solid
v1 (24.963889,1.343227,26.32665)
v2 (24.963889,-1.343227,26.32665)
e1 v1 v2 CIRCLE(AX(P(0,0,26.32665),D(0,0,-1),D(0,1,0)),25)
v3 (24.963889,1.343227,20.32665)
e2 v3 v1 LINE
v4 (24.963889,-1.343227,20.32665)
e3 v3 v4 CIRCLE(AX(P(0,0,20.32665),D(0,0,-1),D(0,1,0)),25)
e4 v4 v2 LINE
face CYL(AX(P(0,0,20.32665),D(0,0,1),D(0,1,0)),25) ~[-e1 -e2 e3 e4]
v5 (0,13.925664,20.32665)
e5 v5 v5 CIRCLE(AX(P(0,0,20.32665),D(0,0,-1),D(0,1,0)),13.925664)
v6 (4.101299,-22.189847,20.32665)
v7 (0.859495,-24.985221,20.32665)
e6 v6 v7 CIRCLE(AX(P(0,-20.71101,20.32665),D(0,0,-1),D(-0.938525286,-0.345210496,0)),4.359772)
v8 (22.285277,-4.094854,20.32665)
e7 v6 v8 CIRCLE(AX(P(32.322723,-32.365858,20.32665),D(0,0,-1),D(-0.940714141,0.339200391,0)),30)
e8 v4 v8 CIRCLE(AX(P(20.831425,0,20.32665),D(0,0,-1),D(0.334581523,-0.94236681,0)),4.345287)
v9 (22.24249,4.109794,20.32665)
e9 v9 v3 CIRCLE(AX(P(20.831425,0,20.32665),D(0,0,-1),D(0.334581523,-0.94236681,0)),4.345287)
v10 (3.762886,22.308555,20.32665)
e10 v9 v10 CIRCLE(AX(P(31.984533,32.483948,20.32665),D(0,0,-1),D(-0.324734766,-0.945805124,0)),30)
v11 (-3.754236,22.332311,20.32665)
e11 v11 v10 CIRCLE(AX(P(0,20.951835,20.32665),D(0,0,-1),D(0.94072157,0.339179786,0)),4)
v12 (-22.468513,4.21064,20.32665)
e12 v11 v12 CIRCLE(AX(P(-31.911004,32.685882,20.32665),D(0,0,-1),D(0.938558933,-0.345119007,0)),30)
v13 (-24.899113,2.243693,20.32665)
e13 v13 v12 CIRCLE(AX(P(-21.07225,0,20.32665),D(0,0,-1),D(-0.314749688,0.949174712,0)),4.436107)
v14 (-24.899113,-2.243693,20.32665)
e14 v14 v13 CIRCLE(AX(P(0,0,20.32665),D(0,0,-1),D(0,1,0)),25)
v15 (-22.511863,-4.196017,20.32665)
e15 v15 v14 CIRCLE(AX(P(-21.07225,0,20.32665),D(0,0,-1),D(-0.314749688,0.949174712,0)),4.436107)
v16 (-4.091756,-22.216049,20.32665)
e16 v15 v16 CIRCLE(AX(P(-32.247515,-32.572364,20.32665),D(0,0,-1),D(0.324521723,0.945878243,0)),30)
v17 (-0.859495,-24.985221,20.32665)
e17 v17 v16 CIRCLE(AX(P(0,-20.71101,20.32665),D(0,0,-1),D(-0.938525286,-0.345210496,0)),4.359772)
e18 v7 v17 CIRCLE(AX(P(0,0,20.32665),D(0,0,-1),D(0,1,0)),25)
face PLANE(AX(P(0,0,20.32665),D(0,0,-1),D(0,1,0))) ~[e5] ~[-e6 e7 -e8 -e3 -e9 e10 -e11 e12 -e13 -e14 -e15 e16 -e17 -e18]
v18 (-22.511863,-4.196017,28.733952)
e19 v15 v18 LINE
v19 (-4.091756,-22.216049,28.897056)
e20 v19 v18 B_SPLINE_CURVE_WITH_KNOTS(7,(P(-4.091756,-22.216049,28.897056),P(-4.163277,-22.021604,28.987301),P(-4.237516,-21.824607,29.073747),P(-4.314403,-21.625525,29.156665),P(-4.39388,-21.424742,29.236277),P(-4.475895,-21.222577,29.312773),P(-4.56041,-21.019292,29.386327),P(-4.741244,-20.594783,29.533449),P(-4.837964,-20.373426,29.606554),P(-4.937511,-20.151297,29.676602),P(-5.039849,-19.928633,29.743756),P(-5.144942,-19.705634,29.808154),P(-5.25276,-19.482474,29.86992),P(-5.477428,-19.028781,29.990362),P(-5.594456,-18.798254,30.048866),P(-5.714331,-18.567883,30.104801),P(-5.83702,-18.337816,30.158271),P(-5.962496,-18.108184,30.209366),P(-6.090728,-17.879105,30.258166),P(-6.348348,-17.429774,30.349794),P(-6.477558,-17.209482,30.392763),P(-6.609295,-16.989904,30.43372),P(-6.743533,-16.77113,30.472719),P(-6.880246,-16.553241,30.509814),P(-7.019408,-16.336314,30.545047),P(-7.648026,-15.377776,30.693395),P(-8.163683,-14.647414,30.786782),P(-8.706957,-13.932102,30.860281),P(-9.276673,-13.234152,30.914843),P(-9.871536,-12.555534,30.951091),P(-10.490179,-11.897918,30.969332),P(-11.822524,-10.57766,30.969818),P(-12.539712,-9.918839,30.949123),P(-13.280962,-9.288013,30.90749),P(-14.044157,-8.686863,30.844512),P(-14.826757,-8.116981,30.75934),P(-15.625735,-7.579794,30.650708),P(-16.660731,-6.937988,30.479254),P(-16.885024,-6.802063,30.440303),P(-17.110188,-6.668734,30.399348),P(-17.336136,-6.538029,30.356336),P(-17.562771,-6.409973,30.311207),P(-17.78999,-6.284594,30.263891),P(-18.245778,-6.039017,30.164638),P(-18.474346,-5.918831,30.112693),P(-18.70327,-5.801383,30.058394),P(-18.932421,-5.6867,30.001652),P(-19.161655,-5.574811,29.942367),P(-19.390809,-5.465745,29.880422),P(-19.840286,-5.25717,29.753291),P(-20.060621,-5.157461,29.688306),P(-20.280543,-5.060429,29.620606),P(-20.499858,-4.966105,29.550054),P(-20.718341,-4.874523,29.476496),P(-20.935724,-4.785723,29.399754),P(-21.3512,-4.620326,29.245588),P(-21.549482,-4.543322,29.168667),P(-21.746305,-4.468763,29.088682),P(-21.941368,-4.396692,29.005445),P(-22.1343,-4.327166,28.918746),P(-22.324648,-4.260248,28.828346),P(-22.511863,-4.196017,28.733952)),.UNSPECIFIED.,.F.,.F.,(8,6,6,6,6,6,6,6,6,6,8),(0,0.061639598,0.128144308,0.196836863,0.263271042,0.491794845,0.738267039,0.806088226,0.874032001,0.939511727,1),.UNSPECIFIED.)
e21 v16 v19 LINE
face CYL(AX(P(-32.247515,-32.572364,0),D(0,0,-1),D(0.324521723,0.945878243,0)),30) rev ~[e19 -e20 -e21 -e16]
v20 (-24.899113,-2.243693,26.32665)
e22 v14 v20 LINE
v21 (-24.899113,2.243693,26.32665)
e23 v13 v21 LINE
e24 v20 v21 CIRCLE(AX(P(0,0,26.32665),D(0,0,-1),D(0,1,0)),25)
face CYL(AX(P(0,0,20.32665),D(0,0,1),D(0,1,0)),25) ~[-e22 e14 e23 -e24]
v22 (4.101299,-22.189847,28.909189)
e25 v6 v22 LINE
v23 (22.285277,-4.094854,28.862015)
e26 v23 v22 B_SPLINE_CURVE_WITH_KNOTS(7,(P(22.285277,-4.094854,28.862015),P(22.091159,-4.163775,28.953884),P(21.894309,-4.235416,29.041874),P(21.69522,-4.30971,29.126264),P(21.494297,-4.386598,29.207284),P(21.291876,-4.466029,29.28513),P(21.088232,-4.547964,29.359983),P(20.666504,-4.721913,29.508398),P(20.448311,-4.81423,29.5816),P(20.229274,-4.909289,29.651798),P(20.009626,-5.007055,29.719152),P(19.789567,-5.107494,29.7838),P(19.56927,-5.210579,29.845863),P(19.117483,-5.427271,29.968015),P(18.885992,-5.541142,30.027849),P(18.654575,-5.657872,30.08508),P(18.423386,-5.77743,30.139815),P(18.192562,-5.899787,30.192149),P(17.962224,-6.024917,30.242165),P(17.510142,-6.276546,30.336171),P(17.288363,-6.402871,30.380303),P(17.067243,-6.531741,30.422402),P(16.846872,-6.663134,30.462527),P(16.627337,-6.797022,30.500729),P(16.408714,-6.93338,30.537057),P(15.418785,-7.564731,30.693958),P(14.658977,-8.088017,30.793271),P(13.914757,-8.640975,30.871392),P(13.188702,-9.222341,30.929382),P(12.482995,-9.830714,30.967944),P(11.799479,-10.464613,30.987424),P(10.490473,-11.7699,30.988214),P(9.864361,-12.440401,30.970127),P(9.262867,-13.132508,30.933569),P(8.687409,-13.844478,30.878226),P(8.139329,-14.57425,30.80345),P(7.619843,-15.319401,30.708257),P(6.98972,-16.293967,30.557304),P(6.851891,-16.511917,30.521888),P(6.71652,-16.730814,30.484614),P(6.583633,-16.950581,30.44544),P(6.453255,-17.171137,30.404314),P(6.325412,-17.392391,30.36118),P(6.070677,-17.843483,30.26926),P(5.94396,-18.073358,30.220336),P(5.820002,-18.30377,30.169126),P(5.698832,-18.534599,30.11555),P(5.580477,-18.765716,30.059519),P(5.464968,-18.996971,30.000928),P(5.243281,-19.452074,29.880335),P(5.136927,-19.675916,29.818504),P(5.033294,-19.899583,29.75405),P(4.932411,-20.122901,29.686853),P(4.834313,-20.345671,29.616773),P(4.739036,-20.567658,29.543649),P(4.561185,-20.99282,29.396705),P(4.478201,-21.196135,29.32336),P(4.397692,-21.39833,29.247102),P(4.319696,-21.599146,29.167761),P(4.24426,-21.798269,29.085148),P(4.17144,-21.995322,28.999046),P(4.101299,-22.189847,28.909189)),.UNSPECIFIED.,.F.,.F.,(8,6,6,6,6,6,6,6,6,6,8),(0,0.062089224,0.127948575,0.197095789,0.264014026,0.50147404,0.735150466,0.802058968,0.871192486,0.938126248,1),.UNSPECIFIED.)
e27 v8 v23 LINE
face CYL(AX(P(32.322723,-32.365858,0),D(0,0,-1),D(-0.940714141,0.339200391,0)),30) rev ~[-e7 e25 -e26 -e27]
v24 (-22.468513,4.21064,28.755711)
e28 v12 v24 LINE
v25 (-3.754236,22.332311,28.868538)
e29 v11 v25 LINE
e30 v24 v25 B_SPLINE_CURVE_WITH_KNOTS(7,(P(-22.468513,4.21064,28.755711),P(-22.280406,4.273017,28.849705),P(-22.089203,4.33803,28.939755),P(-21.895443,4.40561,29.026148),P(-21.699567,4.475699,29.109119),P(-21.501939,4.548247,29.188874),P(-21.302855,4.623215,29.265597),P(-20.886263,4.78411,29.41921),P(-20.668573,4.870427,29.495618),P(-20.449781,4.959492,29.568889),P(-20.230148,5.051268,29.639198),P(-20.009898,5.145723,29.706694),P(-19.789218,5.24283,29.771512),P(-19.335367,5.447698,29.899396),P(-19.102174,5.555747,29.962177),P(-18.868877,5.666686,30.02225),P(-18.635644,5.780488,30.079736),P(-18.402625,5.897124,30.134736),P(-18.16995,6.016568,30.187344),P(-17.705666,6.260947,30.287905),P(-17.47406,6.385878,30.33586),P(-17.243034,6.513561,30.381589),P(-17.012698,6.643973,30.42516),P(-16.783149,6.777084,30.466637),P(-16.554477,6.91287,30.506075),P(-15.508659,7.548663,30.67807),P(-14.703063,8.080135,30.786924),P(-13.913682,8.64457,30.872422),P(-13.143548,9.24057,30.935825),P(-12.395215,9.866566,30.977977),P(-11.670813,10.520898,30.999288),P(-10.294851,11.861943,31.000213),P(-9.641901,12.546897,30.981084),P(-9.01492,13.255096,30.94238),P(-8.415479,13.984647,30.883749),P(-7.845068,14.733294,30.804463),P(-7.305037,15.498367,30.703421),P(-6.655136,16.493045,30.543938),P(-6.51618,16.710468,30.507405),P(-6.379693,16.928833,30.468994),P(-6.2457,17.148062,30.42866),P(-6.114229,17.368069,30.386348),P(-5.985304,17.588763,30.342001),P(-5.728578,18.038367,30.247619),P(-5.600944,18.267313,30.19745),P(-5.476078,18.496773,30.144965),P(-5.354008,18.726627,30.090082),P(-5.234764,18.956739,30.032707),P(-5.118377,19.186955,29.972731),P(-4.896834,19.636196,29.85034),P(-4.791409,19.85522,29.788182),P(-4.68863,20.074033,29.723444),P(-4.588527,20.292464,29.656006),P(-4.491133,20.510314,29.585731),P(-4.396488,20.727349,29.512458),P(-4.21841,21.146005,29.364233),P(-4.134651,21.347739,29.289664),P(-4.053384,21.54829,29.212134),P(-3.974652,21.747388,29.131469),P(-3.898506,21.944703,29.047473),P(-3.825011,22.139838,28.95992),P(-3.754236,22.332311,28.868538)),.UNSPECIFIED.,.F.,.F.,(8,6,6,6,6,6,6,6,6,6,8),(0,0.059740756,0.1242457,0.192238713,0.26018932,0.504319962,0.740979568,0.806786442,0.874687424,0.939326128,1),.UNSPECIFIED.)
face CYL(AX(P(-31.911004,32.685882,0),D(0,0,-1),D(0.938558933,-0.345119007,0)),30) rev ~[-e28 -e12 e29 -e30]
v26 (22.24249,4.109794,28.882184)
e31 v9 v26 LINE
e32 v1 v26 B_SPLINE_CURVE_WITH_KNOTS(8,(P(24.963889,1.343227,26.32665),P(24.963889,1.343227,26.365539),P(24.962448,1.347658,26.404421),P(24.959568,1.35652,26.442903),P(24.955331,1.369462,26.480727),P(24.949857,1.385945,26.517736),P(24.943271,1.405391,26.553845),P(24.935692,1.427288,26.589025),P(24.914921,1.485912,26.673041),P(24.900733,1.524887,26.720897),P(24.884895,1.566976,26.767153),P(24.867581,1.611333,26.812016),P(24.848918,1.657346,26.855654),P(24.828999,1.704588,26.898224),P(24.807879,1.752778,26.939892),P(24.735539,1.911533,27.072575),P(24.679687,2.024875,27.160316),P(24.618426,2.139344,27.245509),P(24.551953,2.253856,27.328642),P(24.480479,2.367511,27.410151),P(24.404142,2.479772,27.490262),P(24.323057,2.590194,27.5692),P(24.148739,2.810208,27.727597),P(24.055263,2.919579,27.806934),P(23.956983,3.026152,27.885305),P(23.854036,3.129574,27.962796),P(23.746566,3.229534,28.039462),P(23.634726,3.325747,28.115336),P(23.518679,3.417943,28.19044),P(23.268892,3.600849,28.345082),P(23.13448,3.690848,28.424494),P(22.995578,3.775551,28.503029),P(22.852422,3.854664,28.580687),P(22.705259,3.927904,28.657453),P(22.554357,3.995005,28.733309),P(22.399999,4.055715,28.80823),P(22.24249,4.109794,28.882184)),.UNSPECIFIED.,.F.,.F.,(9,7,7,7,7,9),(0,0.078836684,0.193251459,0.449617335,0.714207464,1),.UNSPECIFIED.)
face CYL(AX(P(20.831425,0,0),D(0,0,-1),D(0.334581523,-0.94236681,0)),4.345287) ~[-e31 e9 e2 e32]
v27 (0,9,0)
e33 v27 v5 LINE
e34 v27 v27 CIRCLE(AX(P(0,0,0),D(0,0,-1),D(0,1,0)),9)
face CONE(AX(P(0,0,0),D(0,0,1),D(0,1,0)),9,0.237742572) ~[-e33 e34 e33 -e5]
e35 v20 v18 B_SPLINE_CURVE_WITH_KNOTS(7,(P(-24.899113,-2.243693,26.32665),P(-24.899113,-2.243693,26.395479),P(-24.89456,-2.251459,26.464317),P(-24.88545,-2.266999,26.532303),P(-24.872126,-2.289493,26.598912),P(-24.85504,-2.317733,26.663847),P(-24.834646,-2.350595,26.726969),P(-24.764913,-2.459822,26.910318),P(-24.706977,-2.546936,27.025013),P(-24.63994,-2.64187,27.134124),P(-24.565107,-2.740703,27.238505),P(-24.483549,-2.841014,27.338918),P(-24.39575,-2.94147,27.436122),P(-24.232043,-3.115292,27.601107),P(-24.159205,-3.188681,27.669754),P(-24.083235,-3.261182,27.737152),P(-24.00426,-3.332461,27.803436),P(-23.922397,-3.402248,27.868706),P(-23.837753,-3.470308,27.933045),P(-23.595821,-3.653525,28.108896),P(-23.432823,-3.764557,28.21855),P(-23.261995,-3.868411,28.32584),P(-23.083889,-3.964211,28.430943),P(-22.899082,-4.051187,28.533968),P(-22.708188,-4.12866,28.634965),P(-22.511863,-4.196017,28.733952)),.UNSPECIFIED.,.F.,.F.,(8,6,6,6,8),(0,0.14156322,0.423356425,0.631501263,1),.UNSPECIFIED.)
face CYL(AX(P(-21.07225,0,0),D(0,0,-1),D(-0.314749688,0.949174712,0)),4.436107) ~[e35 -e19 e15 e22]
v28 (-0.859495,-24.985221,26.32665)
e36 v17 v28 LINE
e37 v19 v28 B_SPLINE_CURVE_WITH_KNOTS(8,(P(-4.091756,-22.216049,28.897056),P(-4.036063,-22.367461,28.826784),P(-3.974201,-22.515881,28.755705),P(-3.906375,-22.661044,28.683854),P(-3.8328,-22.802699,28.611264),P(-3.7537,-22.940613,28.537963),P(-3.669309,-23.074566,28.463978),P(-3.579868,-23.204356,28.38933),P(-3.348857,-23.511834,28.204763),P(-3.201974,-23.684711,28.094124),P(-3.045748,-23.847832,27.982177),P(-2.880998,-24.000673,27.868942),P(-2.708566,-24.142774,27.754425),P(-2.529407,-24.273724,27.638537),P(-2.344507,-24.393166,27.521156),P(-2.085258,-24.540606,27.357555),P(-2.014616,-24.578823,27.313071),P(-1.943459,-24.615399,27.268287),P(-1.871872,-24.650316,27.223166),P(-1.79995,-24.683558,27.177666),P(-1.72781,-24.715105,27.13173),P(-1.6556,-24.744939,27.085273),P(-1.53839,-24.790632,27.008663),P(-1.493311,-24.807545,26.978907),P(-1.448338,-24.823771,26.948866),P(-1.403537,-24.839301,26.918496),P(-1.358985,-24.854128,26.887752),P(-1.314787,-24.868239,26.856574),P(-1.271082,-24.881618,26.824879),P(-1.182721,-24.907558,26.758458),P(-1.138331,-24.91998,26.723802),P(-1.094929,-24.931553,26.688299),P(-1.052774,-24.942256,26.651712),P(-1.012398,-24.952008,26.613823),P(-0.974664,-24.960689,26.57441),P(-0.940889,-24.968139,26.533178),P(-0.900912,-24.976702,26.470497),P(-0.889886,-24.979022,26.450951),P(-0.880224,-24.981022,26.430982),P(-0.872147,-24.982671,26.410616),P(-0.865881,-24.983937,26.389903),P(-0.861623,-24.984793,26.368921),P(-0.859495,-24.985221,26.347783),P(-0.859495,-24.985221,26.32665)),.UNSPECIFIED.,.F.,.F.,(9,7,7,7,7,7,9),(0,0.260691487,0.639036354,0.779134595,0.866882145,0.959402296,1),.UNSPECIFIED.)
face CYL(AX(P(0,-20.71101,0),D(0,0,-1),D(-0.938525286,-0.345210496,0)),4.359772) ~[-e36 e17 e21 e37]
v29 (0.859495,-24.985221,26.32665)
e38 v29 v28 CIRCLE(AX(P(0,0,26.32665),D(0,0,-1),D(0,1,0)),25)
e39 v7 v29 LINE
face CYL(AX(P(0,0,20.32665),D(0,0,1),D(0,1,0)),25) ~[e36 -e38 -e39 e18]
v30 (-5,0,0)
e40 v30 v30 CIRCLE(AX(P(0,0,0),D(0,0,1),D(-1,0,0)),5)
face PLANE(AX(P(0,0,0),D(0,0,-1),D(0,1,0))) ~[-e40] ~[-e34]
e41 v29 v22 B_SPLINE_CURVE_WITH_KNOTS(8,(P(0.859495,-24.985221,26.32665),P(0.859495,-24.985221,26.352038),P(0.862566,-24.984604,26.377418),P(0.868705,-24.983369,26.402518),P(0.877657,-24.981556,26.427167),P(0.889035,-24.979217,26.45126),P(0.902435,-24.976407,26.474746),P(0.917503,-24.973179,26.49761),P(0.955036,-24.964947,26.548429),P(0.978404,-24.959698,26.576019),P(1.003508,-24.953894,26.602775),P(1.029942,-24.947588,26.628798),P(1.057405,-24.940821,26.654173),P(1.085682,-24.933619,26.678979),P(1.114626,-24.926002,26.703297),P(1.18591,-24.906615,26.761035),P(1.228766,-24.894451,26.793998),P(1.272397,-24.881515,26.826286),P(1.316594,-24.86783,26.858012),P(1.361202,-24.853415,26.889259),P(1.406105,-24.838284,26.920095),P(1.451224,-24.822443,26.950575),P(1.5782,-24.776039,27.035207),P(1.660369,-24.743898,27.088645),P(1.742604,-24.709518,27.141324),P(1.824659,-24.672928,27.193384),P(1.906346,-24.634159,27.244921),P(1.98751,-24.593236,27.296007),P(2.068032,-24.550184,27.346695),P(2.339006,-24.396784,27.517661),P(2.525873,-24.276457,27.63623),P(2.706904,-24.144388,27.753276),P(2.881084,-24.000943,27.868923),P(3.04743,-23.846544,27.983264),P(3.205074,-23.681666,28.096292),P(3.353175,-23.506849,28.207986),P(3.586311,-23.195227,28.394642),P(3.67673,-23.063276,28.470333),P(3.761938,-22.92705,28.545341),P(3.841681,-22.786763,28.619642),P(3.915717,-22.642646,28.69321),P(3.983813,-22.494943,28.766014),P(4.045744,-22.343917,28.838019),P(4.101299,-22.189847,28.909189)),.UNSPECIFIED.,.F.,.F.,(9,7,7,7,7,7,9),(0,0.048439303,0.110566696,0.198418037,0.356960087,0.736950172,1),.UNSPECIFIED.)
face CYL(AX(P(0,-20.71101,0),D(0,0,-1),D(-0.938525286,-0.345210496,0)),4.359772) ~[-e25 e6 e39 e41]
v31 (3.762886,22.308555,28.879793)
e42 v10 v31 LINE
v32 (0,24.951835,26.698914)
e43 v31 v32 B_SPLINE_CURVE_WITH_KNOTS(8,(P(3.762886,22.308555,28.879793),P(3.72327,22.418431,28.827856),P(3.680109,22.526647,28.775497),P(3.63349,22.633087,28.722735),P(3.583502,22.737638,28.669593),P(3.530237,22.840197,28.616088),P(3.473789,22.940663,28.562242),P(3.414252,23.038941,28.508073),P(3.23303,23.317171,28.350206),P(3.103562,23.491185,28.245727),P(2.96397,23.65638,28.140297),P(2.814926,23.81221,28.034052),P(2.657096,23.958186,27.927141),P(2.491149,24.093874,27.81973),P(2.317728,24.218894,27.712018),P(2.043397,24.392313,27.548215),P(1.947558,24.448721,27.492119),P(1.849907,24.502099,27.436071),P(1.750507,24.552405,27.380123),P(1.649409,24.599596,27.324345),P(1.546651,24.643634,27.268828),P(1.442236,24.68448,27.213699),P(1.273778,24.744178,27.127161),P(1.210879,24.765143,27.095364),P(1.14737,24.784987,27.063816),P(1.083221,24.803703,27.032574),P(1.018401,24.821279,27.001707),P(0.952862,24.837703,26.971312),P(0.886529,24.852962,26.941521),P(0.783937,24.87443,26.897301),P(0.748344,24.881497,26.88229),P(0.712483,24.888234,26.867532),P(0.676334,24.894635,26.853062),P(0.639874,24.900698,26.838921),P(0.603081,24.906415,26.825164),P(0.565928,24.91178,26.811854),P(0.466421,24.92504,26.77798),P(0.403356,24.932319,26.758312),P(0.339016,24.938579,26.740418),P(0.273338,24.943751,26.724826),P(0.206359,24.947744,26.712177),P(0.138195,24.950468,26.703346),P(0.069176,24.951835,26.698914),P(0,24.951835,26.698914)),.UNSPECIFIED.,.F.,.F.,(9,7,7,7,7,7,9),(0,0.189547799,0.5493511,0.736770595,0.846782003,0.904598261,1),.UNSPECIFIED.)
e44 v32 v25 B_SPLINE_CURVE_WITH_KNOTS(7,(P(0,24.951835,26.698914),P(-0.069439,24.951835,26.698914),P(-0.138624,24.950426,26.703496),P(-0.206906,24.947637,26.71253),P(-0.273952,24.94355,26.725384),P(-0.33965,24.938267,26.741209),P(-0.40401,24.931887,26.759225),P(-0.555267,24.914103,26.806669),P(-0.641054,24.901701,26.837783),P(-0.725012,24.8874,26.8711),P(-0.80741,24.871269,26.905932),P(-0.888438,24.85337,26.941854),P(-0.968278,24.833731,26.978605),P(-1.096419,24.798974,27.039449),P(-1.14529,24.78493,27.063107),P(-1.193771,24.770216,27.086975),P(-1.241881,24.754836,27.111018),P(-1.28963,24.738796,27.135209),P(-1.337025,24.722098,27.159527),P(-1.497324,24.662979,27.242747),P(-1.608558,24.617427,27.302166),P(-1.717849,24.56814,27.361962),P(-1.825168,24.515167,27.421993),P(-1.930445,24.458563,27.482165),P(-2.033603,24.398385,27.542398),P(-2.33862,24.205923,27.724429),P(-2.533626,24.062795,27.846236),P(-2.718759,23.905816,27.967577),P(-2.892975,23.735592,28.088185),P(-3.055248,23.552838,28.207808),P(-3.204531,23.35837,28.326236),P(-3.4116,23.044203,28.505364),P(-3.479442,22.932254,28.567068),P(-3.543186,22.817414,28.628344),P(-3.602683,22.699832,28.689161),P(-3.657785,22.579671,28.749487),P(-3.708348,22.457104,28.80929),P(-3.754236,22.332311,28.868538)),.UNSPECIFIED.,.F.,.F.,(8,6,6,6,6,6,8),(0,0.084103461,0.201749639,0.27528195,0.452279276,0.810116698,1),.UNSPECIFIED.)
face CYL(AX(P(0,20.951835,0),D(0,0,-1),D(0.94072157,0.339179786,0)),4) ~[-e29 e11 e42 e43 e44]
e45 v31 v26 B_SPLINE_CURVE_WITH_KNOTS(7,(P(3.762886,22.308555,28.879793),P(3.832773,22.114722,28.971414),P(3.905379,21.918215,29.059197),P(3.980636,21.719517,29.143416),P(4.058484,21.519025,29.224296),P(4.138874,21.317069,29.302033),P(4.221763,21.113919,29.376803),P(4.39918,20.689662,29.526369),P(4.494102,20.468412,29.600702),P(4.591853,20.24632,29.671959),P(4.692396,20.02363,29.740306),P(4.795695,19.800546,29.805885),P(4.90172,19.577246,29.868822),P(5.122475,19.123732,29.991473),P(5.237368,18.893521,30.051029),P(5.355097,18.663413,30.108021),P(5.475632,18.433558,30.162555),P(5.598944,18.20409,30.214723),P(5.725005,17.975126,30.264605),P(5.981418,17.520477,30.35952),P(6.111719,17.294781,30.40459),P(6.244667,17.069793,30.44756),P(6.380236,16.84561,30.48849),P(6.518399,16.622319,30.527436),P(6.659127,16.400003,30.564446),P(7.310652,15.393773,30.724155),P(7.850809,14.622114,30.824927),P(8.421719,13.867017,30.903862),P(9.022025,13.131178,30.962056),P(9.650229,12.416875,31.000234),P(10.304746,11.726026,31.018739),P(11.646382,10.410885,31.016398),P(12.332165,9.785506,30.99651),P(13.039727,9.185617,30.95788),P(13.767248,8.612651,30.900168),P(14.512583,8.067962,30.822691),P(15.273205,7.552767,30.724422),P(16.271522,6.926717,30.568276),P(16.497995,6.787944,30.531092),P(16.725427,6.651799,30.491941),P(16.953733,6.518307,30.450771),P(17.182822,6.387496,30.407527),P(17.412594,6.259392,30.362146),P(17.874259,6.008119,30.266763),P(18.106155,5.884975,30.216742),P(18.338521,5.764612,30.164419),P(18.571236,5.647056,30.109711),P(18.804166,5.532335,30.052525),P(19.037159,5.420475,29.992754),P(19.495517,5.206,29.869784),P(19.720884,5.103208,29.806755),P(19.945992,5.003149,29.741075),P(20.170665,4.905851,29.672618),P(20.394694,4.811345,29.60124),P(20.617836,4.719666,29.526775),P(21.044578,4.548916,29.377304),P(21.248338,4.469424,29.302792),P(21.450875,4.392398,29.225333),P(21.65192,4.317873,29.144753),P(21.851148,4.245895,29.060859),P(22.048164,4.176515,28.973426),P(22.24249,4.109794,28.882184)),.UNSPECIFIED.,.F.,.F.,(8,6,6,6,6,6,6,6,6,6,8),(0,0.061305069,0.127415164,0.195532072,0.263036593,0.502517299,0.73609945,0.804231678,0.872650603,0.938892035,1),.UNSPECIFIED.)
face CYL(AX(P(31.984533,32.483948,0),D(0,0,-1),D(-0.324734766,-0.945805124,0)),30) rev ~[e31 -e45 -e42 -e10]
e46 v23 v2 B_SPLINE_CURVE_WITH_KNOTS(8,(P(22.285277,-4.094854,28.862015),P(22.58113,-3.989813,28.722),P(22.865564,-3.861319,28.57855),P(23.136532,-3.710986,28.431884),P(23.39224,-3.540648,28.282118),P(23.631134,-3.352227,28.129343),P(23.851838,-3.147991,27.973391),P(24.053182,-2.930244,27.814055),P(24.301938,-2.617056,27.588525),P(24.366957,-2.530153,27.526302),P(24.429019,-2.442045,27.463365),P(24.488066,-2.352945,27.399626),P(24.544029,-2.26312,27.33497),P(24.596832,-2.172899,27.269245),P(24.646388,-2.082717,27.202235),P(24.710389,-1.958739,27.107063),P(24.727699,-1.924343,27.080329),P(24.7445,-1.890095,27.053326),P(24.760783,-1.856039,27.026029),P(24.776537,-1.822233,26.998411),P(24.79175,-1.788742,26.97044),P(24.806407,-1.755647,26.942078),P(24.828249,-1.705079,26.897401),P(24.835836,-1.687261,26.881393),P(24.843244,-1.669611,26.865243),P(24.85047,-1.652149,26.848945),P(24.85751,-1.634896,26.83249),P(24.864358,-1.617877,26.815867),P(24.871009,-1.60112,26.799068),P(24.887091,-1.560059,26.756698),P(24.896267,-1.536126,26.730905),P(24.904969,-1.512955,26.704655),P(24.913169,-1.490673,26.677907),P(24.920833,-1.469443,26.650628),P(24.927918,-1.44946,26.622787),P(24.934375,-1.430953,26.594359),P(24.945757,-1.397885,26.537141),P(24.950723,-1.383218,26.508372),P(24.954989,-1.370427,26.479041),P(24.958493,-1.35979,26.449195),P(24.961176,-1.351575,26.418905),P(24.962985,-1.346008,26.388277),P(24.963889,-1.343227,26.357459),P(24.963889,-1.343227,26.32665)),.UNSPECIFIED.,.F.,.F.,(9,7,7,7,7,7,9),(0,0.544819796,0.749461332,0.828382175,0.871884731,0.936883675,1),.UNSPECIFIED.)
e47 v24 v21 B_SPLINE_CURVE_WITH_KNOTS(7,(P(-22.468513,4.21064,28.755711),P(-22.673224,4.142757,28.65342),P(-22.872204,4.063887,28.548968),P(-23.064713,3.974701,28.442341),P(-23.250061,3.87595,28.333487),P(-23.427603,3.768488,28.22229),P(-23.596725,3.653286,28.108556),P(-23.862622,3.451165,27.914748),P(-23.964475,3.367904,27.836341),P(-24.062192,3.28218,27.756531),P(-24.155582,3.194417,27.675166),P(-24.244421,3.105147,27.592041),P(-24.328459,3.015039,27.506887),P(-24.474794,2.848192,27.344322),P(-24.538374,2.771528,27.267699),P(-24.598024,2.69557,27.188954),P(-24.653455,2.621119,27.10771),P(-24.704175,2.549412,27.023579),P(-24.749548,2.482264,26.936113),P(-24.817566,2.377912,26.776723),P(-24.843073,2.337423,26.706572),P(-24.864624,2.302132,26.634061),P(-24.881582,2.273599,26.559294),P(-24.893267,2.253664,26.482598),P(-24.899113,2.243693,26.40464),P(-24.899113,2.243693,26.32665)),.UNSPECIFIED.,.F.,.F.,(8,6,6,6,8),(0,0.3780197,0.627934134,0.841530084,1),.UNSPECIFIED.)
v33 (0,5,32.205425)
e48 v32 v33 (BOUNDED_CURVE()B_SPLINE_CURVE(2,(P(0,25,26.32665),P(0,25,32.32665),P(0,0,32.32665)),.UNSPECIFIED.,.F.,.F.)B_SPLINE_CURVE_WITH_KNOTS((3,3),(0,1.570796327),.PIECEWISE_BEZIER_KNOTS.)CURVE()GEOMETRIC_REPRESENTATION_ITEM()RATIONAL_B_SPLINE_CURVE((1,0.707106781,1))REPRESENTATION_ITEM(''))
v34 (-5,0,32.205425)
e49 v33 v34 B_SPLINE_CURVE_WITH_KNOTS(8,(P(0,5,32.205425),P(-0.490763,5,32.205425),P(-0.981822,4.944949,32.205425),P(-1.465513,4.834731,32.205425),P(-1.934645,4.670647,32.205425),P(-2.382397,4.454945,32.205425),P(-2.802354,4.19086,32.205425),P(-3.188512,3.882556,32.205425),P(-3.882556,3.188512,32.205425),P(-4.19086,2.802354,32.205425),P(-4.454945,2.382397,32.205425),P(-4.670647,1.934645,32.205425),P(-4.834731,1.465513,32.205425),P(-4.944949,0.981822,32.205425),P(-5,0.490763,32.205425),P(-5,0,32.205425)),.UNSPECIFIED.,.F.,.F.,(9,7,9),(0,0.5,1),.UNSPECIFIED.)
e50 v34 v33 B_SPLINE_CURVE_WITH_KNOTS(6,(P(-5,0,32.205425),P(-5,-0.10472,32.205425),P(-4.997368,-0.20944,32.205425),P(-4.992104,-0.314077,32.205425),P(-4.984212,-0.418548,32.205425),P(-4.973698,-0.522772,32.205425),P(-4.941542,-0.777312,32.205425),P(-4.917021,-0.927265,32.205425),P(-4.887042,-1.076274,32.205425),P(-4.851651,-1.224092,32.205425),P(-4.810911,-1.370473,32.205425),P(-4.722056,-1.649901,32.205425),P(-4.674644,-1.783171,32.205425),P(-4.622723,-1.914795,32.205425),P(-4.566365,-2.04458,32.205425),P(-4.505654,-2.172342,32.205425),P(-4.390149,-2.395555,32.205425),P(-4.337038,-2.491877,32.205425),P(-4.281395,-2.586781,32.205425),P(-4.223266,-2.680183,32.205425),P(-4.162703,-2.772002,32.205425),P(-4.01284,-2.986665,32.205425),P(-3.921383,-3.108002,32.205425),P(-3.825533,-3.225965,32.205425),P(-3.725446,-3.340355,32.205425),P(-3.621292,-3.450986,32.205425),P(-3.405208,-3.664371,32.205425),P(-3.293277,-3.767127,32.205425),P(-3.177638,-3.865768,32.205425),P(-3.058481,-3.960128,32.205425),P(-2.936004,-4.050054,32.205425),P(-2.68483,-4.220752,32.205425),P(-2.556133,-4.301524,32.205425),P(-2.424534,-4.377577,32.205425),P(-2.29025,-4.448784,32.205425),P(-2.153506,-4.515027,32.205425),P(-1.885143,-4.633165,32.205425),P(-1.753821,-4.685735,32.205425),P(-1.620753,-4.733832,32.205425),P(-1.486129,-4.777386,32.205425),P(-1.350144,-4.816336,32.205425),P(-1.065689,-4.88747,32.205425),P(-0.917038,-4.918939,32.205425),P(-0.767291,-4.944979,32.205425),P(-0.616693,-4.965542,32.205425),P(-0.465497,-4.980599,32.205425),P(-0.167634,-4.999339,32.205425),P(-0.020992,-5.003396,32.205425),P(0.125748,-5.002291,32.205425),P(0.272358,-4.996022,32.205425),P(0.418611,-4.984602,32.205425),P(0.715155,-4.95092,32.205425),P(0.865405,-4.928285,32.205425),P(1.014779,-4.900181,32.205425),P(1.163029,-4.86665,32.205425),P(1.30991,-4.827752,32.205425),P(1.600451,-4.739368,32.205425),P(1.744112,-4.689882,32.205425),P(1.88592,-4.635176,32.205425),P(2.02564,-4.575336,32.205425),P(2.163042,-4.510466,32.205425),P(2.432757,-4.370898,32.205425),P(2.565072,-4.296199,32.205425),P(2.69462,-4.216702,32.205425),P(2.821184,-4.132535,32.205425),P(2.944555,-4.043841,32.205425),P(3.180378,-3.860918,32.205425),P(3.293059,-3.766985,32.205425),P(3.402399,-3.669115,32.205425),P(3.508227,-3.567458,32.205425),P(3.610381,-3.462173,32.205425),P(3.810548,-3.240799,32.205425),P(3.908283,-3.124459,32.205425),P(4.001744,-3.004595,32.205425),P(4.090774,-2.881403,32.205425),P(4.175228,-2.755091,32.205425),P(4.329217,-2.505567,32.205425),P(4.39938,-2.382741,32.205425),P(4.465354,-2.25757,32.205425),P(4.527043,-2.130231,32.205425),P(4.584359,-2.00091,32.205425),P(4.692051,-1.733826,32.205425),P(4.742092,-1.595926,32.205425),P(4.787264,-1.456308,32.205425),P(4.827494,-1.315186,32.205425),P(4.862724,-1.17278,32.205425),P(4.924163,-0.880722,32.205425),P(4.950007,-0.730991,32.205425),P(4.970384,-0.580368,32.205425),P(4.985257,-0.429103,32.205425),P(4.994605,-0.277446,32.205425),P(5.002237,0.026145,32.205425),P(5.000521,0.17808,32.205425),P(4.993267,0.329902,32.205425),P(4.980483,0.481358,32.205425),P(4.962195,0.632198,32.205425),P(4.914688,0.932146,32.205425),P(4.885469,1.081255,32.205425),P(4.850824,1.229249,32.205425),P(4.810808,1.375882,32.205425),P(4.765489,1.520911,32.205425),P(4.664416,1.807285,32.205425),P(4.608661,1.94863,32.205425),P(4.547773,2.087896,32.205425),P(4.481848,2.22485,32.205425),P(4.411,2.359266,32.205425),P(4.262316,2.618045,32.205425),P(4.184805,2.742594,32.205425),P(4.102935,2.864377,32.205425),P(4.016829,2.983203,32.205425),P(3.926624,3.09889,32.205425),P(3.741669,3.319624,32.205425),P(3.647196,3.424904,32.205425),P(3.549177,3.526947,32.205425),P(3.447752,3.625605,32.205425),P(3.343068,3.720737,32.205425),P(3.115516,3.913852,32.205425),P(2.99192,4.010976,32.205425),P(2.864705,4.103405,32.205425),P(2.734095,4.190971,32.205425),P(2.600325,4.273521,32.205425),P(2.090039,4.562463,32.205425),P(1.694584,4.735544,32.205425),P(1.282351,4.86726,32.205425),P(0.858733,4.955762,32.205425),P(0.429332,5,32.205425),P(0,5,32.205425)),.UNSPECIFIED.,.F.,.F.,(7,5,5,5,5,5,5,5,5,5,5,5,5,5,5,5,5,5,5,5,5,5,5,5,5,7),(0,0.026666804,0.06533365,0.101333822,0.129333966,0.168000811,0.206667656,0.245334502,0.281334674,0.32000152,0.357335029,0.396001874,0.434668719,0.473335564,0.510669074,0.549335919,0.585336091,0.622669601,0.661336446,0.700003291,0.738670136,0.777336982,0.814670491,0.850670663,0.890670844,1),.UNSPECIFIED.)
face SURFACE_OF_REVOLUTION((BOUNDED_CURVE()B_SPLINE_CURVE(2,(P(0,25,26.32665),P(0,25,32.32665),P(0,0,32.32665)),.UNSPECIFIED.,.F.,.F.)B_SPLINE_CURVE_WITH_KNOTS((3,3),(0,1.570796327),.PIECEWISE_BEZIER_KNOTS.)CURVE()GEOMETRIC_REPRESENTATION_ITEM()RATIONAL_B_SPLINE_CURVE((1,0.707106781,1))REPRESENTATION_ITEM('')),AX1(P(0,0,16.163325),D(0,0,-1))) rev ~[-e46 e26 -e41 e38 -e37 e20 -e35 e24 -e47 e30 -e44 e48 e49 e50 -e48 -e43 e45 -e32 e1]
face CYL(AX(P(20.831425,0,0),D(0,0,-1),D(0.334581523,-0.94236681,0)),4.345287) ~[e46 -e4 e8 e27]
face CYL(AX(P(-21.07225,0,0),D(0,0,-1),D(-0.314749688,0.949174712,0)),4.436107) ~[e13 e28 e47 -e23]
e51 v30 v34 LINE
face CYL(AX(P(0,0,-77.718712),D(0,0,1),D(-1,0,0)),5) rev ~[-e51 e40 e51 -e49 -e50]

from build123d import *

# Parameters (mm, degrees)
F3_DEPTH = 100
F5_D     = 10


with BuildPart() as f1:
    # F0 (on Right) → F1 (revolve)
    with BuildSketch(Plane.YZ):
        with BuildLine():
            Line((0, 32.3266497701), (0, 0))
            Line((0, 0), (9, 0))
            Line((9, 0), (13.925663583, 20.3266497701))
            Line((13.925663583, 20.3266497701), (25, 20.3266497701))
            Line((25, 20.3266497701), (25, 26.3266497701))
            add(Edge.make_bspline(
                [(25, 26.3266497701), (25, 32.3266497701), (0, 32.3266497701)],
                knots=[0, 0, 0, 1.5707963268, 1.5707963268, 1.5707963268], degree=2, weights=[1, 0.7071067812, 1]))
        make_face()
    revolve(axis=Axis((0, 0, 16.1633248851), (0, 0, -1)))

    # F2 (on Top) → F3 (intersect)
    with BuildSketch(Plane.XY):
        with BuildLine():
            ThreePointArc((-3.754235732, 22.3323114682), (-11.041772693, 11.1341950684), (-22.4685130723, 4.2106403335))
            ThreePointArc((-22.4685130723, 4.2106403335), (-25.5082976179, 0.022874934), (-22.51186286, -4.1960168477))
            ThreePointArc((-22.51186286, -4.1960168477), (-11.2684741638, -11.1275544115), (-4.0917559502, -22.2160492621))
            ThreePointArc((-4.0917559502, -22.2160492621), (0.0139431693, -25.0707596903), (4.1012988558, -22.1898465746))
            ThreePointArc((4.1012988558, -22.1898465746), (11.1616155781, -11.1006865584), (22.2852773965, -4.0948540004))
            ThreePointArc((22.2852773965, -4.0948540004), (25.1766523938, 0.0226602251), (22.2424904136, 4.1097944591))
            ThreePointArc((22.2424904136, 4.1097944591), (10.9343752254, 11.1089431069), (3.7628862808, 22.3085545833))
            ThreePointArc((3.7628862808, 22.3085545833), (0.0126414158, 24.9518154629), (-3.754235732, 22.3323114682))
        make_face()
    extrude(amount=F3_DEPTH, mode=Mode.INTERSECT)

    # F5 (through all)
    with Locations(Plane(origin=(0, 0, 0), x_dir=(1, 0, 0), z_dir=(0, 0, -1))):
        with Locations((0, 0)):
            Hole(F5_D / 2)


solid = f1.part
